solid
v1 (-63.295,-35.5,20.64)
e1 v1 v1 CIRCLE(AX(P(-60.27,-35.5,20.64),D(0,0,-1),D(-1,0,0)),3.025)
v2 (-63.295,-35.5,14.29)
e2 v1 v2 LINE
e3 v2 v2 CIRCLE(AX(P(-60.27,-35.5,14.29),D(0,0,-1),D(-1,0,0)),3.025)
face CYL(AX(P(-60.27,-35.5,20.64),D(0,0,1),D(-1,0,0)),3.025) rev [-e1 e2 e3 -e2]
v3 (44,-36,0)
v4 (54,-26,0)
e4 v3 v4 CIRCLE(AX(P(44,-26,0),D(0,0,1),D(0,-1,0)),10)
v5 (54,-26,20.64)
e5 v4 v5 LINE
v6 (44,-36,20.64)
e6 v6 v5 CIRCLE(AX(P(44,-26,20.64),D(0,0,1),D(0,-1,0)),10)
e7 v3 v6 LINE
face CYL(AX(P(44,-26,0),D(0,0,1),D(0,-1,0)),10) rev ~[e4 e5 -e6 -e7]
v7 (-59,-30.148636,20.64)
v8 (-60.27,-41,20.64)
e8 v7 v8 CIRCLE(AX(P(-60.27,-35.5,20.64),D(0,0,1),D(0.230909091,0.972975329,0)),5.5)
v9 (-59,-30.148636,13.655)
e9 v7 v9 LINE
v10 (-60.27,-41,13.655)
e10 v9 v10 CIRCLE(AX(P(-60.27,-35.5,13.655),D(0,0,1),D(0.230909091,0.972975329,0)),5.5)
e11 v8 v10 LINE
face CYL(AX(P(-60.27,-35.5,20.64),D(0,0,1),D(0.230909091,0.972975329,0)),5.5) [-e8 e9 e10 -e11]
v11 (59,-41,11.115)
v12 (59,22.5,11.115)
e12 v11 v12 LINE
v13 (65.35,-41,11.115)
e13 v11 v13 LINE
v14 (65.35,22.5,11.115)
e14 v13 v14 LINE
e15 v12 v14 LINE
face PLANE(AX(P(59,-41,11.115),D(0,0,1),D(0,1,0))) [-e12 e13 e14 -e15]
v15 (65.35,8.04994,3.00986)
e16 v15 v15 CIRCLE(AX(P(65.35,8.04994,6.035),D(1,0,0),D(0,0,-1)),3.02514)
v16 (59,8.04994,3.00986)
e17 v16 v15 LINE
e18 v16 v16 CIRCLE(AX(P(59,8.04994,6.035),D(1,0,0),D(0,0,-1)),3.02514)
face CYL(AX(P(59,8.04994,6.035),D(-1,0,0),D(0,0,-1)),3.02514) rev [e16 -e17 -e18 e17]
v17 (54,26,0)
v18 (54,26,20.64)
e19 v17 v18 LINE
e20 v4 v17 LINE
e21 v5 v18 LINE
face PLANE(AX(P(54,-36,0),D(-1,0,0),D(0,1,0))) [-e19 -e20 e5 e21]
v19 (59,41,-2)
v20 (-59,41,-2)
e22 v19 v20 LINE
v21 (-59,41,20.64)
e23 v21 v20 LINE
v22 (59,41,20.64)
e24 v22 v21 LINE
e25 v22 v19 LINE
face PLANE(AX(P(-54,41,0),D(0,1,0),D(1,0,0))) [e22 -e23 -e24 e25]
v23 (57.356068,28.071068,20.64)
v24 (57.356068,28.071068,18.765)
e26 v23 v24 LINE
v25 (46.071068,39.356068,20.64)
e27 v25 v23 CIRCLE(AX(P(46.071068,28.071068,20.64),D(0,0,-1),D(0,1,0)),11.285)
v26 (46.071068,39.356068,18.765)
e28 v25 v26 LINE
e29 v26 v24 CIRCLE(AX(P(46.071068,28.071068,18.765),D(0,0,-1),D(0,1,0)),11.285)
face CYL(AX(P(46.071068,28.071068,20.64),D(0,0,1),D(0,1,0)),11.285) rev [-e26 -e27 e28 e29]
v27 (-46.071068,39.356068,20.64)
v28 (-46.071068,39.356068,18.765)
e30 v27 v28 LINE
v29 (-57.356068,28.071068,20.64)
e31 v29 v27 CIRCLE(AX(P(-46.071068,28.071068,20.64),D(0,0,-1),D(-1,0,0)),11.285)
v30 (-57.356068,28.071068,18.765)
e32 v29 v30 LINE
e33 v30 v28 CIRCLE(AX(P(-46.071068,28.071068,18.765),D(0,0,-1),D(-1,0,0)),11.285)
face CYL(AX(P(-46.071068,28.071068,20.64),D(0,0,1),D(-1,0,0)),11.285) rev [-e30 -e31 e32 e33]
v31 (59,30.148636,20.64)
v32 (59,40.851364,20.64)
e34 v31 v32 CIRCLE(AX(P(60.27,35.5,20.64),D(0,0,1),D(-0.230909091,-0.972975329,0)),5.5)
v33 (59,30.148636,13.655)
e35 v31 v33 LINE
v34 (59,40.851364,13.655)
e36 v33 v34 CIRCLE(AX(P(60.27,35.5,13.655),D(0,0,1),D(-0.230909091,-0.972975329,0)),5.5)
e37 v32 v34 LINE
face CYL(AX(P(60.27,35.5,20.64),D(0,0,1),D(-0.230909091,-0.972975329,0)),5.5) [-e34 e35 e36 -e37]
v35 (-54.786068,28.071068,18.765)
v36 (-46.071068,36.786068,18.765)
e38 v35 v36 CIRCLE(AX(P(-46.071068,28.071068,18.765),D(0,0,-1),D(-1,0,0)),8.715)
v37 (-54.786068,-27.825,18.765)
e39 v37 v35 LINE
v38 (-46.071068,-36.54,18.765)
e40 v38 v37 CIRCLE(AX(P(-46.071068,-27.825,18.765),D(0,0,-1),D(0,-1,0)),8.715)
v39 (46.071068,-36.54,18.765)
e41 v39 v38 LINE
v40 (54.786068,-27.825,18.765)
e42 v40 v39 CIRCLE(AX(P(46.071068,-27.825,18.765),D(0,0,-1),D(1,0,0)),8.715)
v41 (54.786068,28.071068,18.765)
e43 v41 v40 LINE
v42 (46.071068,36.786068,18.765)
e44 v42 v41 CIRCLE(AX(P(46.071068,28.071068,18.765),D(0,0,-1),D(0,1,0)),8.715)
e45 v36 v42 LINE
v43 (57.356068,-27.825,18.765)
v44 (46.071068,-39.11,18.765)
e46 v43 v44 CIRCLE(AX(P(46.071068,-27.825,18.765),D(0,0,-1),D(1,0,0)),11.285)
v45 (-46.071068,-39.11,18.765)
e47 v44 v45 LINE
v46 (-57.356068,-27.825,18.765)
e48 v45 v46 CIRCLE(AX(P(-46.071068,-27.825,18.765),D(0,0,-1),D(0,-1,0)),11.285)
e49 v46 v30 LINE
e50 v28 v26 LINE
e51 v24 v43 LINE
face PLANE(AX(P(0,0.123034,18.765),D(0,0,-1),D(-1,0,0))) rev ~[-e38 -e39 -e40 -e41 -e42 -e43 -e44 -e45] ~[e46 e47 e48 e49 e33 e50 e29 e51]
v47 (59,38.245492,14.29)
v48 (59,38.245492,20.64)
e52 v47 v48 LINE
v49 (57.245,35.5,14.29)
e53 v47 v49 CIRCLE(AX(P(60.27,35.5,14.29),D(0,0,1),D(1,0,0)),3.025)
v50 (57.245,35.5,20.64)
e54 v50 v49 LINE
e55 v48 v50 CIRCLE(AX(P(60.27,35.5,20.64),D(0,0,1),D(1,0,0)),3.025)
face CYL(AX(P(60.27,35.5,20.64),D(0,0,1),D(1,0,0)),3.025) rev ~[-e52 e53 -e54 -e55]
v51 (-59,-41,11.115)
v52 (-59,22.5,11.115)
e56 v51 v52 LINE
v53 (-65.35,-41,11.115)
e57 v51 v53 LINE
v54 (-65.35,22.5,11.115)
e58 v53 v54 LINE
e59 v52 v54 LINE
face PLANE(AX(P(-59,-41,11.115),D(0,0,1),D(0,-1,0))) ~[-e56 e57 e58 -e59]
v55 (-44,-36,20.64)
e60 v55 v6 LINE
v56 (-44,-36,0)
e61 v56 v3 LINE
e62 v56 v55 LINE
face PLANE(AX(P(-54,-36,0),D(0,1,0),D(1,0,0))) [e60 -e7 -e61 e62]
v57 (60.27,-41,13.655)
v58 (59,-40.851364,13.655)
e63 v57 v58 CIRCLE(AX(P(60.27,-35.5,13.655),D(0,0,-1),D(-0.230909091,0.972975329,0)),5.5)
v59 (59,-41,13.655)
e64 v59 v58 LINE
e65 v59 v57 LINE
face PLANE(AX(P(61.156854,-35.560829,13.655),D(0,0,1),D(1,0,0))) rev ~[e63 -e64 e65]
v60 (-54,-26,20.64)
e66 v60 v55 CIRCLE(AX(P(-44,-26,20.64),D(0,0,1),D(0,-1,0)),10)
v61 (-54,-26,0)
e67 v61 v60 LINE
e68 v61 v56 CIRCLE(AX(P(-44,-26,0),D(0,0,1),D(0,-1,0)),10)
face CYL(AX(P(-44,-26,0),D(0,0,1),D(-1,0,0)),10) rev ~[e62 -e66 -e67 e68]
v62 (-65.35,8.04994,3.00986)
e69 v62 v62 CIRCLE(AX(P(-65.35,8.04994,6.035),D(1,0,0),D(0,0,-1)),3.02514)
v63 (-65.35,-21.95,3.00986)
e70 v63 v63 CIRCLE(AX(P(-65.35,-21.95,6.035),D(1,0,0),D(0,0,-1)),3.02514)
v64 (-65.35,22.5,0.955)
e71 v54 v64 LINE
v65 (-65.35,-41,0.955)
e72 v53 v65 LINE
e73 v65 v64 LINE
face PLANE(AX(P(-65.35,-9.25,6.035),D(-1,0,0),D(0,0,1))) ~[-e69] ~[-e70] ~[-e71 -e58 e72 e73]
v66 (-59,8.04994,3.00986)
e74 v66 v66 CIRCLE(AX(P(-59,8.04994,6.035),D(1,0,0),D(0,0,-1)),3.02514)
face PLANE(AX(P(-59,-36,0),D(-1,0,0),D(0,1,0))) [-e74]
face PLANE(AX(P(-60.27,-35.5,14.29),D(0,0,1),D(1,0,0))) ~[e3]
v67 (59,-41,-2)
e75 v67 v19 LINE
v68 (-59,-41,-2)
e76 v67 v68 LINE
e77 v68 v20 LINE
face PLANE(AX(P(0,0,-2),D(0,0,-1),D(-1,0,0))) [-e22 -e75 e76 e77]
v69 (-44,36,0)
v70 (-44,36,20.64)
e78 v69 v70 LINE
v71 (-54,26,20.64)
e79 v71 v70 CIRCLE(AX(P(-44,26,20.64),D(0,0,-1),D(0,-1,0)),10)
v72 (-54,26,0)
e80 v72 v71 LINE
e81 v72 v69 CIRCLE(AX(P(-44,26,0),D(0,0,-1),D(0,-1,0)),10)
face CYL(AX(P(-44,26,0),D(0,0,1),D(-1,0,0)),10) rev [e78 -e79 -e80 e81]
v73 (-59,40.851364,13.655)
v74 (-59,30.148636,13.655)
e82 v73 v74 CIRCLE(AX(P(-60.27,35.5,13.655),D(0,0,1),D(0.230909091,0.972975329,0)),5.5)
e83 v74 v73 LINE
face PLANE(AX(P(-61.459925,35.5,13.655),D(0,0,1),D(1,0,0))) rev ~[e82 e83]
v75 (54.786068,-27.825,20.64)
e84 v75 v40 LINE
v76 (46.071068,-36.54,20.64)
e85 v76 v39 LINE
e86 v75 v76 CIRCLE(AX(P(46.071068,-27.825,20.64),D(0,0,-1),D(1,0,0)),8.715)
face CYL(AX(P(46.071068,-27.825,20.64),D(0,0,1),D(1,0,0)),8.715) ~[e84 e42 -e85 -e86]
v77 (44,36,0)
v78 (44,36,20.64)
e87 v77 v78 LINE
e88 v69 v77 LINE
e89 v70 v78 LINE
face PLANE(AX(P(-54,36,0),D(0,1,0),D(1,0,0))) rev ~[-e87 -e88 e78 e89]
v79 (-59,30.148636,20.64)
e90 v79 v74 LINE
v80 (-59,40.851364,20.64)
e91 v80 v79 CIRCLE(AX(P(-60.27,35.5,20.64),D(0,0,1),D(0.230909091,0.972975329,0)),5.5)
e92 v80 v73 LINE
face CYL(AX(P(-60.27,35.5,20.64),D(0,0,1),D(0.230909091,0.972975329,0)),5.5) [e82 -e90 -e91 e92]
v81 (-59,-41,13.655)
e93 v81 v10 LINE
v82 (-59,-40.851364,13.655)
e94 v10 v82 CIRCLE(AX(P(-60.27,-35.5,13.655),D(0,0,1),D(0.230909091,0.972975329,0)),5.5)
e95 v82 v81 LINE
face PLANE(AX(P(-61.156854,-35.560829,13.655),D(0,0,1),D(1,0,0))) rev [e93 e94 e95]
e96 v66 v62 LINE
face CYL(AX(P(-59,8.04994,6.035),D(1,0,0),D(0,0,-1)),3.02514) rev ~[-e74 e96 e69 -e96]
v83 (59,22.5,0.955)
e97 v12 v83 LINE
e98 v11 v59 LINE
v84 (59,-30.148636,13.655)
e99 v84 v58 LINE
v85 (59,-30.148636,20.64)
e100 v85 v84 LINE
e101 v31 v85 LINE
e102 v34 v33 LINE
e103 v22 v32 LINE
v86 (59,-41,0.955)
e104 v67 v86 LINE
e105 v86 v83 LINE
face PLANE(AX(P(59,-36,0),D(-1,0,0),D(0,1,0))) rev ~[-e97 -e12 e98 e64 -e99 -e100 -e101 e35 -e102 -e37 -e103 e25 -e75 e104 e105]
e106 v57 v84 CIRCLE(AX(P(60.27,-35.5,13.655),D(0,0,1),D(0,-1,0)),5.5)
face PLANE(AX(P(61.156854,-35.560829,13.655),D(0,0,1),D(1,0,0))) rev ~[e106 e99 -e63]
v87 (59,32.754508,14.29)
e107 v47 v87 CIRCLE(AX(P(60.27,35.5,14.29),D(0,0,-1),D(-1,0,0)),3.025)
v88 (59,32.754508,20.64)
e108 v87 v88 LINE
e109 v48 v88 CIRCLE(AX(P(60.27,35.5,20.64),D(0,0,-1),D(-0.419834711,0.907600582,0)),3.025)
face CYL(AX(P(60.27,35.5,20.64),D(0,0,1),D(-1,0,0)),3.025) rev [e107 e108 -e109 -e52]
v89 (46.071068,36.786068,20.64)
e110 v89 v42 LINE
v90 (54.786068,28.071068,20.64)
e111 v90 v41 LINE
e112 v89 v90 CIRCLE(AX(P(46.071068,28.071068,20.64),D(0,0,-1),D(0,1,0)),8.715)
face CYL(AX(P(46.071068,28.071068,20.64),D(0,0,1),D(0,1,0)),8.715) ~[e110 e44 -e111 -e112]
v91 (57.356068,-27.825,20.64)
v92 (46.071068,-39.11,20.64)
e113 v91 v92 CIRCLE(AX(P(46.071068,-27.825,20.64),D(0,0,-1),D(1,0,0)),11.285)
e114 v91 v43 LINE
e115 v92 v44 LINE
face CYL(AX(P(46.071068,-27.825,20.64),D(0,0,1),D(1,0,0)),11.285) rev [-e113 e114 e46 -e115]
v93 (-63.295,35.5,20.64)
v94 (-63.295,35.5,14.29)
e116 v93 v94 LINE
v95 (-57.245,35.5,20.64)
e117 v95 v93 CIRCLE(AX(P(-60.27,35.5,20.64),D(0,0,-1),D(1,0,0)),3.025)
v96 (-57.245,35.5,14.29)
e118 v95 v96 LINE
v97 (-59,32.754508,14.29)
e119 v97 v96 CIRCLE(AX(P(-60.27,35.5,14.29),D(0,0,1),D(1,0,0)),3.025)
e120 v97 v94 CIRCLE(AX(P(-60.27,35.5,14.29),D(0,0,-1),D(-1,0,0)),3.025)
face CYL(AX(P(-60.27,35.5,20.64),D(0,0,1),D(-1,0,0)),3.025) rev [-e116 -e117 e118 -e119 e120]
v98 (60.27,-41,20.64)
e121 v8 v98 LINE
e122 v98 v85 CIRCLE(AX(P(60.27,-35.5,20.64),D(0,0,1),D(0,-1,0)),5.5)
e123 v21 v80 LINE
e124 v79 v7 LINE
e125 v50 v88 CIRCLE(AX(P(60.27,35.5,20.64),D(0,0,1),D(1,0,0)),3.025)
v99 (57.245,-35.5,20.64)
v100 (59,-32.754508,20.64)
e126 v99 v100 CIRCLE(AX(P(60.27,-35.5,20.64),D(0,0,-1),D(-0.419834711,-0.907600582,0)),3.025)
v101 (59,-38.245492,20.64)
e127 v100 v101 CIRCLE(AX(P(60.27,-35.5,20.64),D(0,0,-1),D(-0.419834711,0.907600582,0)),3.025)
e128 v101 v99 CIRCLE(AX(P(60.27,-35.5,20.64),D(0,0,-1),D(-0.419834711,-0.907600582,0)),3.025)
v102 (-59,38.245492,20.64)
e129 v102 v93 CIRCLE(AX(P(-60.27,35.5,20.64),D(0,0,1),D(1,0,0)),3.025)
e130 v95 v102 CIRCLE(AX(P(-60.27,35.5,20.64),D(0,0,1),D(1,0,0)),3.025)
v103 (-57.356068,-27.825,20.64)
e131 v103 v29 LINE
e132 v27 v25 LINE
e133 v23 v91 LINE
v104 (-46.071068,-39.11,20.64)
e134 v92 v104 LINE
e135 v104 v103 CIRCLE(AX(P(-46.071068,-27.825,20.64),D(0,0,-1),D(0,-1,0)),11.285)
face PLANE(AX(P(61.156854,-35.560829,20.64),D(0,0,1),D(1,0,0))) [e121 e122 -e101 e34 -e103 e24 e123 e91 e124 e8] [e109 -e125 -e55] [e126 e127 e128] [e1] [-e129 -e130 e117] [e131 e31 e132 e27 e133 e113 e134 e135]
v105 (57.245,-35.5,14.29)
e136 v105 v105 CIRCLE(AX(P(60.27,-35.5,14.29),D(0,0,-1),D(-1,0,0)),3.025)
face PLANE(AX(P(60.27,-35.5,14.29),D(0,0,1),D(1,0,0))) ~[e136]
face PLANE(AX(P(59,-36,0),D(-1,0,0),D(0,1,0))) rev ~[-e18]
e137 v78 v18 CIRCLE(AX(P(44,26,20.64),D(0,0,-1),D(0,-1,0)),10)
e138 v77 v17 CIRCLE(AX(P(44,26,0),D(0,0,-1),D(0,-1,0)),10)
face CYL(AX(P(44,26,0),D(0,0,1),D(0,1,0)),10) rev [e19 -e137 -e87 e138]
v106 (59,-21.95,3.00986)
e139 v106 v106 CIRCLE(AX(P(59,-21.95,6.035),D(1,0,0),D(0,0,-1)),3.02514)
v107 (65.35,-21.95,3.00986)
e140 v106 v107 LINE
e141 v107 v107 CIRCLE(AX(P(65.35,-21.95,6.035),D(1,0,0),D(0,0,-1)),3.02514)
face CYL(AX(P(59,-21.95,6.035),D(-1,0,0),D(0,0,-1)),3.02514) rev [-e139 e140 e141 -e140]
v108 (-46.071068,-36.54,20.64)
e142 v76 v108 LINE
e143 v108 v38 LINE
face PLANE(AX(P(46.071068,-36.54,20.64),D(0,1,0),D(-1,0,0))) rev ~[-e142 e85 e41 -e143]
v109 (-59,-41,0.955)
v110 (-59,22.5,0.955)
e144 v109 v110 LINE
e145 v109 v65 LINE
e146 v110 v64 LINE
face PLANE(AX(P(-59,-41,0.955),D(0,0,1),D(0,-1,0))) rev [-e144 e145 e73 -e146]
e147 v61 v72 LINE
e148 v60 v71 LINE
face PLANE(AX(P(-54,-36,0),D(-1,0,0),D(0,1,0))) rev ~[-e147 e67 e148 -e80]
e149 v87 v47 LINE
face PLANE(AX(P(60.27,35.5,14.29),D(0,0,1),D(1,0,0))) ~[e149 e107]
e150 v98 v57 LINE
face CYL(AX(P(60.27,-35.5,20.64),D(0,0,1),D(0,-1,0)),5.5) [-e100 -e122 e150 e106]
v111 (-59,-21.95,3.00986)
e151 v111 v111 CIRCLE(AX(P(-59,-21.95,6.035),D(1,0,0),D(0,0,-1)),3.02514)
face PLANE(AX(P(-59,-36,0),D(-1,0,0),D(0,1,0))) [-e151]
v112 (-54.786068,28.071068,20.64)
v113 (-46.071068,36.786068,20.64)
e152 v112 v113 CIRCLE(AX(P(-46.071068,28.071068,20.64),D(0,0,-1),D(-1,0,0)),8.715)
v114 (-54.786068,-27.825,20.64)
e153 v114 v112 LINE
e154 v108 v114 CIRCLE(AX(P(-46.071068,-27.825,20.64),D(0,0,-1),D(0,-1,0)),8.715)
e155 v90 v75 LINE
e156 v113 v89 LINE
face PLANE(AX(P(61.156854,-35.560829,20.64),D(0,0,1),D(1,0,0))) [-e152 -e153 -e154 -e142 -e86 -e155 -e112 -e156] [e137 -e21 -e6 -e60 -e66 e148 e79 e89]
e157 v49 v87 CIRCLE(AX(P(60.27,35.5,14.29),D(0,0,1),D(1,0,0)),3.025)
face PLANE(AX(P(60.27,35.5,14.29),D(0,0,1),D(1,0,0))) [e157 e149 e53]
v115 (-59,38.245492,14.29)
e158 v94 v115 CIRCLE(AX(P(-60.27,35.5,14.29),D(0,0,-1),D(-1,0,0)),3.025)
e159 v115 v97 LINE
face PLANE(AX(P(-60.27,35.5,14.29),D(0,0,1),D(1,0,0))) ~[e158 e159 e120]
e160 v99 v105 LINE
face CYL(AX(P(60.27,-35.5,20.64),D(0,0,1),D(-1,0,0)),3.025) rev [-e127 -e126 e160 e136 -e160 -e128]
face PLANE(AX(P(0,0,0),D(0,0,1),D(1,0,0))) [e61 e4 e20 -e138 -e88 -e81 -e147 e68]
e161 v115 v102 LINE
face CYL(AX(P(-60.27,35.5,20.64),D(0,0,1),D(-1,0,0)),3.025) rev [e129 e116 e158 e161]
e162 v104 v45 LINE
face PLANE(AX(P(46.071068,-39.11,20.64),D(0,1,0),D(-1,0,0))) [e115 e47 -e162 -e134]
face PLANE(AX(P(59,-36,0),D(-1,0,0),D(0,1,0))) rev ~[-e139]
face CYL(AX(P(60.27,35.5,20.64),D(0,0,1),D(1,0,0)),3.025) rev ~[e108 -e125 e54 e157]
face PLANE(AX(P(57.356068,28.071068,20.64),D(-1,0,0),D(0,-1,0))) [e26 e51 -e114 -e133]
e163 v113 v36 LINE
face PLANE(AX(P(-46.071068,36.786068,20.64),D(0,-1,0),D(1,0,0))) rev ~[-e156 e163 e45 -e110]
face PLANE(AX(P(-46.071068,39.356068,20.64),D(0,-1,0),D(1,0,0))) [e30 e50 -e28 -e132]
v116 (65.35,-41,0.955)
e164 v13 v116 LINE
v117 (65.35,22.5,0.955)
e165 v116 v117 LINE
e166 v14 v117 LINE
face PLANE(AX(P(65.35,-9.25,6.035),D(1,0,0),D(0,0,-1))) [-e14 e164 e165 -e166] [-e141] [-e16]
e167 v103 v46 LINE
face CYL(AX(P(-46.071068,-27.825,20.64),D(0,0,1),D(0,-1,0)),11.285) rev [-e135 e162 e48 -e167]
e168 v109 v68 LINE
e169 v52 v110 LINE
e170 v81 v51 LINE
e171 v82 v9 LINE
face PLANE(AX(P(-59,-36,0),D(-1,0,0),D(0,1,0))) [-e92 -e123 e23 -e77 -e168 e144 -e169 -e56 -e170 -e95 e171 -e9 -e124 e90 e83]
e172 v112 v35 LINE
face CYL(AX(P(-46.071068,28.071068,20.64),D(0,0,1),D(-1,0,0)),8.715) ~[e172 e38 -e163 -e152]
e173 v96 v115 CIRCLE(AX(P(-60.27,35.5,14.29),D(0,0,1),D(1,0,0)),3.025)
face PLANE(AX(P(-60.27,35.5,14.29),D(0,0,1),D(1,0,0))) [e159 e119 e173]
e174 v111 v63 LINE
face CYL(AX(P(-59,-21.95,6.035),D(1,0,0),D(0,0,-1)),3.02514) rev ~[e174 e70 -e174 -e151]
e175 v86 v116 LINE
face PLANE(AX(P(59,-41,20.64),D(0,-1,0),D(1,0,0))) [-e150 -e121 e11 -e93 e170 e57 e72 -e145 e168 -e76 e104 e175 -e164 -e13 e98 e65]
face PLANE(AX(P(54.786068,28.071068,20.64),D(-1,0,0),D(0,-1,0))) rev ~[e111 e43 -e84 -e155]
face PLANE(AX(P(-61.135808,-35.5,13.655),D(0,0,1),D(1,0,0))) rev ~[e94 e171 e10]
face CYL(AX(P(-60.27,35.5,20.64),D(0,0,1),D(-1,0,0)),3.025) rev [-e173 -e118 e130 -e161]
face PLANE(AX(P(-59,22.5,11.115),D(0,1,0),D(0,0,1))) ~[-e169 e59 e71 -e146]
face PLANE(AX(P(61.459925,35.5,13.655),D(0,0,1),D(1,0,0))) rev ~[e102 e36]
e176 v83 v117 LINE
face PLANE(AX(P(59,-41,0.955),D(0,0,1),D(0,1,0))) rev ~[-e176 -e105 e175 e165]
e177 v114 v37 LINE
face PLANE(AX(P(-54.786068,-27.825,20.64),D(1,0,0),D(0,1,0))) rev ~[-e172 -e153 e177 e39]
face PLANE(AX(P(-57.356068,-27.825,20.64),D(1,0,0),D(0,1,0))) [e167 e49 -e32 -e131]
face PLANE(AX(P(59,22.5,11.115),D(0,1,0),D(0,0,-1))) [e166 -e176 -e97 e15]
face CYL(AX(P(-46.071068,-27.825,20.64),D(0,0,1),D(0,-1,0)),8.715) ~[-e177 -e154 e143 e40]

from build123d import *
from build123d.topology import SkipClean

# Parameters (mm, degrees)
SKETCH2_W           = 108
SKETCH2_H           = 72
BOSS_EXTRUDE1_DEPTH = 20.64
SHELL1_T            = 5
SKETCH3_W           = 118
SKETCH3_H           = 82
CUT_EXTRUDE1_DEPTH  = 3
FILLET1_R           = 10
BOSS_EXTRUDE2_DEPTH = 6.985
SKETCH6_4_R         = 3.025
CUT_EXTRUDE4_DEPTH  = 6.35
CUT_EXTRUDE2_DEPTH  = 1.875
SKETCH14_W          = 10.16
SKETCH14_H          = 63.5
SKETCH14_R          = 3.02514
BOSS_EXTRUDE5_DEPTH = 6.35


with BuildPart() as part:
    # Sketch2 → Boss-Extrude1 (new body)
    with BuildSketch(Plane.XY):
        Rectangle(SKETCH2_W, SKETCH2_H)
    extrude(amount=BOSS_EXTRUDE1_DEPTH)

    # Shell1
    shell1_openings = [part.faces().sort_by_distance(p)[0] for p in [
        (0, 0, 20.64),
    ]]
    offset(amount=SHELL1_T, openings=shell1_openings, kind=Kind.INTERSECTION)

    # Sketch3 → Cut-Extrude1 (cut)
    with BuildSketch(Plane(origin=(0, 0, -5), x_dir=(-1, 0, 0), z_dir=(0, 0, -1))):
        Rectangle(SKETCH3_W, SKETCH3_H)
    extrude(amount=-CUT_EXTRUDE1_DEPTH, mode=Mode.SUBTRACT)

    # Fillet1
    fillet1_edges = [part.edges().sort_by_distance(p)[0] for p in [
        (54, -36, 10.32),
        (-54, -36, 10.32),
        (54, 36, 10.32),
        (-54, 36, 10.32),
    ]]
    fillet(fillet1_edges, radius=FILLET1_R)

    # Sketch6 → Boss-Extrude2 (add)
    with BuildSketch(Plane.XY.offset(20.64)):
        with BuildLine():
            ThreePointArc((59, 30.148635688), (65.77, 35.5), (59, 40.851364312))
            Line((59, 40.851364312), (59, 30.148635688))
        make_face()
        with BuildLine():
            Line((59, -41), (60.27, -41))
            ThreePointArc((60.27, -41), (65.732714697, -34.86066586), (59, -30.148635688))
            Line((59, -30.148635688), (59, -32.754508241))
            ThreePointArc((59, -32.754508241), (57.245, -35.5), (59, -38.245491759))
            Line((59, -38.245491759), (59, -41))
        make_face()
        with BuildLine():
            ThreePointArc((-59, -38.245491759), (-57.245, -35.5), (-59, -32.754508241))
            Line((-59, -32.754508241), (-59, -30.148635688))
            ThreePointArc((-59, -30.148635688), (-65.77, -35.5), (-59, -40.851364312))
            Line((-59, -40.851364312), (-59, -38.245491759))
        make_face()
        with BuildLine():
            ThreePointArc((-59, 40.851364312), (-65.77, 35.5), (-59, 30.148635688))
            Line((-59, 30.148635688), (-59, 40.851364312))
        make_face()
    boss_extrude2 = extrude(amount=-BOSS_EXTRUDE2_DEPTH)

    # Sketch6<4> → Cut-Extrude4 (cut)
    with BuildSketch(Plane.XY.offset(20.64)):
        with Locations((60.27, -35.5)):
            Circle(SKETCH6_4_R)
        with Locations((60.27, 35.5)):
            Circle(SKETCH6_4_R)
        with Locations((-60.27, -35.5)):
            Circle(SKETCH6_4_R)
        with Locations((-60.27, 35.5)):
            Circle(SKETCH6_4_R)
    cut_extrude4 = extrude(amount=-CUT_EXTRUDE4_DEPTH, mode=Mode.SUBTRACT)

    # Mirror5: Boss-Extrude2, Cut-Extrude4 across plane
    with SkipClean():  # the faces are left unmerged after this step: merging them gives an invalid solid
        add(boss_extrude2.mirror(Plane(origin=(0, 0, 0), x_dir=(0, 0, 1), z_dir=(1, 0, 0))))
        add(cut_extrude4.mirror(Plane(origin=(0, 0, 0), x_dir=(0, 0, 1), z_dir=(1, 0, 0))), mode=Mode.SUBTRACT)
    add(part.part.scale(1), mode=Mode.REPLACE)  # the faces are merged on a copy

    # Sketch5 → Cut-Extrude2 (cut)
    with BuildSketch(Plane.XY.offset(20.64)):
        with BuildLine():
            Line((46.071067812, -39.11), (-46.071067812, -39.11))
            ThreePointArc((-46.071067812, -39.11), (-54.050767838, -35.804700026), (-57.356067812, -27.825))
            Line((-57.356067812, -27.825), (-57.356067812, 28.071067812))
            ThreePointArc((-57.356067812, 28.071067812), (-54.050767838, 36.050767838), (-46.071067812, 39.356067812))
            Line((-46.071067812, 39.356067812), (46.071067812, 39.356067812))
            ThreePointArc((46.071067812, 39.356067812), (54.050767838, 36.050767838), (57.356067812, 28.071067812))
            Line((57.356067812, 28.071067812), (57.356067812, -27.825))
            ThreePointArc((57.356067812, -27.825), (54.050767838, -35.804700026), (46.071067812, -39.11))
        make_face()
        with BuildLine():
            Line((46.071067812, -36.54), (-46.071067812, -36.54))
            ThreePointArc((-46.071067812, -36.54), (-52.23350341, -33.987435598), (-54.786067812, -27.825))
            Line((-54.786067812, -27.825), (-54.786067812, 28.071067812))
            ThreePointArc((-54.786067812, 28.071067812), (-52.23350341, 34.23350341), (-46.071067812, 36.786067812))
            Line((-46.071067812, 36.786067812), (46.071067812, 36.786067812))
            ThreePointArc((46.071067812, 36.786067812), (52.23350341, 34.23350341), (54.786067812, 28.071067812))
            Line((54.786067812, 28.071067812), (54.786067812, -27.825))
            ThreePointArc((54.786067812, -27.825), (52.23350341, -33.987435598), (46.071067812, -36.54))
        make_face(mode=Mode.SUBTRACT)
    extrude(amount=-CUT_EXTRUDE2_DEPTH, mode=Mode.SUBTRACT)

    # Sketch14 → Boss-Extrude5 (add)
    with BuildSketch(Plane(origin=(59, 0, 0), x_dir=(0, 0, -1), z_dir=(1, 0, 0))):
        with Locations((-6.035, -9.25)):
            Rectangle(SKETCH14_W, SKETCH14_H)
        with Locations((-6.035, 8.04994)):
            Circle(SKETCH14_R, mode=Mode.SUBTRACT)
        with Locations((-6.035, -21.95)):
            Circle(SKETCH14_R, mode=Mode.SUBTRACT)
    boss_extrude5 = extrude(amount=BOSS_EXTRUDE5_DEPTH)

    # Mirror6: Boss-Extrude5 across plane
    add(boss_extrude5.mirror(Plane(origin=(0, 0, 0), x_dir=(0, 0, 1), z_dir=(1, 0, 0))))


solid = part.part
